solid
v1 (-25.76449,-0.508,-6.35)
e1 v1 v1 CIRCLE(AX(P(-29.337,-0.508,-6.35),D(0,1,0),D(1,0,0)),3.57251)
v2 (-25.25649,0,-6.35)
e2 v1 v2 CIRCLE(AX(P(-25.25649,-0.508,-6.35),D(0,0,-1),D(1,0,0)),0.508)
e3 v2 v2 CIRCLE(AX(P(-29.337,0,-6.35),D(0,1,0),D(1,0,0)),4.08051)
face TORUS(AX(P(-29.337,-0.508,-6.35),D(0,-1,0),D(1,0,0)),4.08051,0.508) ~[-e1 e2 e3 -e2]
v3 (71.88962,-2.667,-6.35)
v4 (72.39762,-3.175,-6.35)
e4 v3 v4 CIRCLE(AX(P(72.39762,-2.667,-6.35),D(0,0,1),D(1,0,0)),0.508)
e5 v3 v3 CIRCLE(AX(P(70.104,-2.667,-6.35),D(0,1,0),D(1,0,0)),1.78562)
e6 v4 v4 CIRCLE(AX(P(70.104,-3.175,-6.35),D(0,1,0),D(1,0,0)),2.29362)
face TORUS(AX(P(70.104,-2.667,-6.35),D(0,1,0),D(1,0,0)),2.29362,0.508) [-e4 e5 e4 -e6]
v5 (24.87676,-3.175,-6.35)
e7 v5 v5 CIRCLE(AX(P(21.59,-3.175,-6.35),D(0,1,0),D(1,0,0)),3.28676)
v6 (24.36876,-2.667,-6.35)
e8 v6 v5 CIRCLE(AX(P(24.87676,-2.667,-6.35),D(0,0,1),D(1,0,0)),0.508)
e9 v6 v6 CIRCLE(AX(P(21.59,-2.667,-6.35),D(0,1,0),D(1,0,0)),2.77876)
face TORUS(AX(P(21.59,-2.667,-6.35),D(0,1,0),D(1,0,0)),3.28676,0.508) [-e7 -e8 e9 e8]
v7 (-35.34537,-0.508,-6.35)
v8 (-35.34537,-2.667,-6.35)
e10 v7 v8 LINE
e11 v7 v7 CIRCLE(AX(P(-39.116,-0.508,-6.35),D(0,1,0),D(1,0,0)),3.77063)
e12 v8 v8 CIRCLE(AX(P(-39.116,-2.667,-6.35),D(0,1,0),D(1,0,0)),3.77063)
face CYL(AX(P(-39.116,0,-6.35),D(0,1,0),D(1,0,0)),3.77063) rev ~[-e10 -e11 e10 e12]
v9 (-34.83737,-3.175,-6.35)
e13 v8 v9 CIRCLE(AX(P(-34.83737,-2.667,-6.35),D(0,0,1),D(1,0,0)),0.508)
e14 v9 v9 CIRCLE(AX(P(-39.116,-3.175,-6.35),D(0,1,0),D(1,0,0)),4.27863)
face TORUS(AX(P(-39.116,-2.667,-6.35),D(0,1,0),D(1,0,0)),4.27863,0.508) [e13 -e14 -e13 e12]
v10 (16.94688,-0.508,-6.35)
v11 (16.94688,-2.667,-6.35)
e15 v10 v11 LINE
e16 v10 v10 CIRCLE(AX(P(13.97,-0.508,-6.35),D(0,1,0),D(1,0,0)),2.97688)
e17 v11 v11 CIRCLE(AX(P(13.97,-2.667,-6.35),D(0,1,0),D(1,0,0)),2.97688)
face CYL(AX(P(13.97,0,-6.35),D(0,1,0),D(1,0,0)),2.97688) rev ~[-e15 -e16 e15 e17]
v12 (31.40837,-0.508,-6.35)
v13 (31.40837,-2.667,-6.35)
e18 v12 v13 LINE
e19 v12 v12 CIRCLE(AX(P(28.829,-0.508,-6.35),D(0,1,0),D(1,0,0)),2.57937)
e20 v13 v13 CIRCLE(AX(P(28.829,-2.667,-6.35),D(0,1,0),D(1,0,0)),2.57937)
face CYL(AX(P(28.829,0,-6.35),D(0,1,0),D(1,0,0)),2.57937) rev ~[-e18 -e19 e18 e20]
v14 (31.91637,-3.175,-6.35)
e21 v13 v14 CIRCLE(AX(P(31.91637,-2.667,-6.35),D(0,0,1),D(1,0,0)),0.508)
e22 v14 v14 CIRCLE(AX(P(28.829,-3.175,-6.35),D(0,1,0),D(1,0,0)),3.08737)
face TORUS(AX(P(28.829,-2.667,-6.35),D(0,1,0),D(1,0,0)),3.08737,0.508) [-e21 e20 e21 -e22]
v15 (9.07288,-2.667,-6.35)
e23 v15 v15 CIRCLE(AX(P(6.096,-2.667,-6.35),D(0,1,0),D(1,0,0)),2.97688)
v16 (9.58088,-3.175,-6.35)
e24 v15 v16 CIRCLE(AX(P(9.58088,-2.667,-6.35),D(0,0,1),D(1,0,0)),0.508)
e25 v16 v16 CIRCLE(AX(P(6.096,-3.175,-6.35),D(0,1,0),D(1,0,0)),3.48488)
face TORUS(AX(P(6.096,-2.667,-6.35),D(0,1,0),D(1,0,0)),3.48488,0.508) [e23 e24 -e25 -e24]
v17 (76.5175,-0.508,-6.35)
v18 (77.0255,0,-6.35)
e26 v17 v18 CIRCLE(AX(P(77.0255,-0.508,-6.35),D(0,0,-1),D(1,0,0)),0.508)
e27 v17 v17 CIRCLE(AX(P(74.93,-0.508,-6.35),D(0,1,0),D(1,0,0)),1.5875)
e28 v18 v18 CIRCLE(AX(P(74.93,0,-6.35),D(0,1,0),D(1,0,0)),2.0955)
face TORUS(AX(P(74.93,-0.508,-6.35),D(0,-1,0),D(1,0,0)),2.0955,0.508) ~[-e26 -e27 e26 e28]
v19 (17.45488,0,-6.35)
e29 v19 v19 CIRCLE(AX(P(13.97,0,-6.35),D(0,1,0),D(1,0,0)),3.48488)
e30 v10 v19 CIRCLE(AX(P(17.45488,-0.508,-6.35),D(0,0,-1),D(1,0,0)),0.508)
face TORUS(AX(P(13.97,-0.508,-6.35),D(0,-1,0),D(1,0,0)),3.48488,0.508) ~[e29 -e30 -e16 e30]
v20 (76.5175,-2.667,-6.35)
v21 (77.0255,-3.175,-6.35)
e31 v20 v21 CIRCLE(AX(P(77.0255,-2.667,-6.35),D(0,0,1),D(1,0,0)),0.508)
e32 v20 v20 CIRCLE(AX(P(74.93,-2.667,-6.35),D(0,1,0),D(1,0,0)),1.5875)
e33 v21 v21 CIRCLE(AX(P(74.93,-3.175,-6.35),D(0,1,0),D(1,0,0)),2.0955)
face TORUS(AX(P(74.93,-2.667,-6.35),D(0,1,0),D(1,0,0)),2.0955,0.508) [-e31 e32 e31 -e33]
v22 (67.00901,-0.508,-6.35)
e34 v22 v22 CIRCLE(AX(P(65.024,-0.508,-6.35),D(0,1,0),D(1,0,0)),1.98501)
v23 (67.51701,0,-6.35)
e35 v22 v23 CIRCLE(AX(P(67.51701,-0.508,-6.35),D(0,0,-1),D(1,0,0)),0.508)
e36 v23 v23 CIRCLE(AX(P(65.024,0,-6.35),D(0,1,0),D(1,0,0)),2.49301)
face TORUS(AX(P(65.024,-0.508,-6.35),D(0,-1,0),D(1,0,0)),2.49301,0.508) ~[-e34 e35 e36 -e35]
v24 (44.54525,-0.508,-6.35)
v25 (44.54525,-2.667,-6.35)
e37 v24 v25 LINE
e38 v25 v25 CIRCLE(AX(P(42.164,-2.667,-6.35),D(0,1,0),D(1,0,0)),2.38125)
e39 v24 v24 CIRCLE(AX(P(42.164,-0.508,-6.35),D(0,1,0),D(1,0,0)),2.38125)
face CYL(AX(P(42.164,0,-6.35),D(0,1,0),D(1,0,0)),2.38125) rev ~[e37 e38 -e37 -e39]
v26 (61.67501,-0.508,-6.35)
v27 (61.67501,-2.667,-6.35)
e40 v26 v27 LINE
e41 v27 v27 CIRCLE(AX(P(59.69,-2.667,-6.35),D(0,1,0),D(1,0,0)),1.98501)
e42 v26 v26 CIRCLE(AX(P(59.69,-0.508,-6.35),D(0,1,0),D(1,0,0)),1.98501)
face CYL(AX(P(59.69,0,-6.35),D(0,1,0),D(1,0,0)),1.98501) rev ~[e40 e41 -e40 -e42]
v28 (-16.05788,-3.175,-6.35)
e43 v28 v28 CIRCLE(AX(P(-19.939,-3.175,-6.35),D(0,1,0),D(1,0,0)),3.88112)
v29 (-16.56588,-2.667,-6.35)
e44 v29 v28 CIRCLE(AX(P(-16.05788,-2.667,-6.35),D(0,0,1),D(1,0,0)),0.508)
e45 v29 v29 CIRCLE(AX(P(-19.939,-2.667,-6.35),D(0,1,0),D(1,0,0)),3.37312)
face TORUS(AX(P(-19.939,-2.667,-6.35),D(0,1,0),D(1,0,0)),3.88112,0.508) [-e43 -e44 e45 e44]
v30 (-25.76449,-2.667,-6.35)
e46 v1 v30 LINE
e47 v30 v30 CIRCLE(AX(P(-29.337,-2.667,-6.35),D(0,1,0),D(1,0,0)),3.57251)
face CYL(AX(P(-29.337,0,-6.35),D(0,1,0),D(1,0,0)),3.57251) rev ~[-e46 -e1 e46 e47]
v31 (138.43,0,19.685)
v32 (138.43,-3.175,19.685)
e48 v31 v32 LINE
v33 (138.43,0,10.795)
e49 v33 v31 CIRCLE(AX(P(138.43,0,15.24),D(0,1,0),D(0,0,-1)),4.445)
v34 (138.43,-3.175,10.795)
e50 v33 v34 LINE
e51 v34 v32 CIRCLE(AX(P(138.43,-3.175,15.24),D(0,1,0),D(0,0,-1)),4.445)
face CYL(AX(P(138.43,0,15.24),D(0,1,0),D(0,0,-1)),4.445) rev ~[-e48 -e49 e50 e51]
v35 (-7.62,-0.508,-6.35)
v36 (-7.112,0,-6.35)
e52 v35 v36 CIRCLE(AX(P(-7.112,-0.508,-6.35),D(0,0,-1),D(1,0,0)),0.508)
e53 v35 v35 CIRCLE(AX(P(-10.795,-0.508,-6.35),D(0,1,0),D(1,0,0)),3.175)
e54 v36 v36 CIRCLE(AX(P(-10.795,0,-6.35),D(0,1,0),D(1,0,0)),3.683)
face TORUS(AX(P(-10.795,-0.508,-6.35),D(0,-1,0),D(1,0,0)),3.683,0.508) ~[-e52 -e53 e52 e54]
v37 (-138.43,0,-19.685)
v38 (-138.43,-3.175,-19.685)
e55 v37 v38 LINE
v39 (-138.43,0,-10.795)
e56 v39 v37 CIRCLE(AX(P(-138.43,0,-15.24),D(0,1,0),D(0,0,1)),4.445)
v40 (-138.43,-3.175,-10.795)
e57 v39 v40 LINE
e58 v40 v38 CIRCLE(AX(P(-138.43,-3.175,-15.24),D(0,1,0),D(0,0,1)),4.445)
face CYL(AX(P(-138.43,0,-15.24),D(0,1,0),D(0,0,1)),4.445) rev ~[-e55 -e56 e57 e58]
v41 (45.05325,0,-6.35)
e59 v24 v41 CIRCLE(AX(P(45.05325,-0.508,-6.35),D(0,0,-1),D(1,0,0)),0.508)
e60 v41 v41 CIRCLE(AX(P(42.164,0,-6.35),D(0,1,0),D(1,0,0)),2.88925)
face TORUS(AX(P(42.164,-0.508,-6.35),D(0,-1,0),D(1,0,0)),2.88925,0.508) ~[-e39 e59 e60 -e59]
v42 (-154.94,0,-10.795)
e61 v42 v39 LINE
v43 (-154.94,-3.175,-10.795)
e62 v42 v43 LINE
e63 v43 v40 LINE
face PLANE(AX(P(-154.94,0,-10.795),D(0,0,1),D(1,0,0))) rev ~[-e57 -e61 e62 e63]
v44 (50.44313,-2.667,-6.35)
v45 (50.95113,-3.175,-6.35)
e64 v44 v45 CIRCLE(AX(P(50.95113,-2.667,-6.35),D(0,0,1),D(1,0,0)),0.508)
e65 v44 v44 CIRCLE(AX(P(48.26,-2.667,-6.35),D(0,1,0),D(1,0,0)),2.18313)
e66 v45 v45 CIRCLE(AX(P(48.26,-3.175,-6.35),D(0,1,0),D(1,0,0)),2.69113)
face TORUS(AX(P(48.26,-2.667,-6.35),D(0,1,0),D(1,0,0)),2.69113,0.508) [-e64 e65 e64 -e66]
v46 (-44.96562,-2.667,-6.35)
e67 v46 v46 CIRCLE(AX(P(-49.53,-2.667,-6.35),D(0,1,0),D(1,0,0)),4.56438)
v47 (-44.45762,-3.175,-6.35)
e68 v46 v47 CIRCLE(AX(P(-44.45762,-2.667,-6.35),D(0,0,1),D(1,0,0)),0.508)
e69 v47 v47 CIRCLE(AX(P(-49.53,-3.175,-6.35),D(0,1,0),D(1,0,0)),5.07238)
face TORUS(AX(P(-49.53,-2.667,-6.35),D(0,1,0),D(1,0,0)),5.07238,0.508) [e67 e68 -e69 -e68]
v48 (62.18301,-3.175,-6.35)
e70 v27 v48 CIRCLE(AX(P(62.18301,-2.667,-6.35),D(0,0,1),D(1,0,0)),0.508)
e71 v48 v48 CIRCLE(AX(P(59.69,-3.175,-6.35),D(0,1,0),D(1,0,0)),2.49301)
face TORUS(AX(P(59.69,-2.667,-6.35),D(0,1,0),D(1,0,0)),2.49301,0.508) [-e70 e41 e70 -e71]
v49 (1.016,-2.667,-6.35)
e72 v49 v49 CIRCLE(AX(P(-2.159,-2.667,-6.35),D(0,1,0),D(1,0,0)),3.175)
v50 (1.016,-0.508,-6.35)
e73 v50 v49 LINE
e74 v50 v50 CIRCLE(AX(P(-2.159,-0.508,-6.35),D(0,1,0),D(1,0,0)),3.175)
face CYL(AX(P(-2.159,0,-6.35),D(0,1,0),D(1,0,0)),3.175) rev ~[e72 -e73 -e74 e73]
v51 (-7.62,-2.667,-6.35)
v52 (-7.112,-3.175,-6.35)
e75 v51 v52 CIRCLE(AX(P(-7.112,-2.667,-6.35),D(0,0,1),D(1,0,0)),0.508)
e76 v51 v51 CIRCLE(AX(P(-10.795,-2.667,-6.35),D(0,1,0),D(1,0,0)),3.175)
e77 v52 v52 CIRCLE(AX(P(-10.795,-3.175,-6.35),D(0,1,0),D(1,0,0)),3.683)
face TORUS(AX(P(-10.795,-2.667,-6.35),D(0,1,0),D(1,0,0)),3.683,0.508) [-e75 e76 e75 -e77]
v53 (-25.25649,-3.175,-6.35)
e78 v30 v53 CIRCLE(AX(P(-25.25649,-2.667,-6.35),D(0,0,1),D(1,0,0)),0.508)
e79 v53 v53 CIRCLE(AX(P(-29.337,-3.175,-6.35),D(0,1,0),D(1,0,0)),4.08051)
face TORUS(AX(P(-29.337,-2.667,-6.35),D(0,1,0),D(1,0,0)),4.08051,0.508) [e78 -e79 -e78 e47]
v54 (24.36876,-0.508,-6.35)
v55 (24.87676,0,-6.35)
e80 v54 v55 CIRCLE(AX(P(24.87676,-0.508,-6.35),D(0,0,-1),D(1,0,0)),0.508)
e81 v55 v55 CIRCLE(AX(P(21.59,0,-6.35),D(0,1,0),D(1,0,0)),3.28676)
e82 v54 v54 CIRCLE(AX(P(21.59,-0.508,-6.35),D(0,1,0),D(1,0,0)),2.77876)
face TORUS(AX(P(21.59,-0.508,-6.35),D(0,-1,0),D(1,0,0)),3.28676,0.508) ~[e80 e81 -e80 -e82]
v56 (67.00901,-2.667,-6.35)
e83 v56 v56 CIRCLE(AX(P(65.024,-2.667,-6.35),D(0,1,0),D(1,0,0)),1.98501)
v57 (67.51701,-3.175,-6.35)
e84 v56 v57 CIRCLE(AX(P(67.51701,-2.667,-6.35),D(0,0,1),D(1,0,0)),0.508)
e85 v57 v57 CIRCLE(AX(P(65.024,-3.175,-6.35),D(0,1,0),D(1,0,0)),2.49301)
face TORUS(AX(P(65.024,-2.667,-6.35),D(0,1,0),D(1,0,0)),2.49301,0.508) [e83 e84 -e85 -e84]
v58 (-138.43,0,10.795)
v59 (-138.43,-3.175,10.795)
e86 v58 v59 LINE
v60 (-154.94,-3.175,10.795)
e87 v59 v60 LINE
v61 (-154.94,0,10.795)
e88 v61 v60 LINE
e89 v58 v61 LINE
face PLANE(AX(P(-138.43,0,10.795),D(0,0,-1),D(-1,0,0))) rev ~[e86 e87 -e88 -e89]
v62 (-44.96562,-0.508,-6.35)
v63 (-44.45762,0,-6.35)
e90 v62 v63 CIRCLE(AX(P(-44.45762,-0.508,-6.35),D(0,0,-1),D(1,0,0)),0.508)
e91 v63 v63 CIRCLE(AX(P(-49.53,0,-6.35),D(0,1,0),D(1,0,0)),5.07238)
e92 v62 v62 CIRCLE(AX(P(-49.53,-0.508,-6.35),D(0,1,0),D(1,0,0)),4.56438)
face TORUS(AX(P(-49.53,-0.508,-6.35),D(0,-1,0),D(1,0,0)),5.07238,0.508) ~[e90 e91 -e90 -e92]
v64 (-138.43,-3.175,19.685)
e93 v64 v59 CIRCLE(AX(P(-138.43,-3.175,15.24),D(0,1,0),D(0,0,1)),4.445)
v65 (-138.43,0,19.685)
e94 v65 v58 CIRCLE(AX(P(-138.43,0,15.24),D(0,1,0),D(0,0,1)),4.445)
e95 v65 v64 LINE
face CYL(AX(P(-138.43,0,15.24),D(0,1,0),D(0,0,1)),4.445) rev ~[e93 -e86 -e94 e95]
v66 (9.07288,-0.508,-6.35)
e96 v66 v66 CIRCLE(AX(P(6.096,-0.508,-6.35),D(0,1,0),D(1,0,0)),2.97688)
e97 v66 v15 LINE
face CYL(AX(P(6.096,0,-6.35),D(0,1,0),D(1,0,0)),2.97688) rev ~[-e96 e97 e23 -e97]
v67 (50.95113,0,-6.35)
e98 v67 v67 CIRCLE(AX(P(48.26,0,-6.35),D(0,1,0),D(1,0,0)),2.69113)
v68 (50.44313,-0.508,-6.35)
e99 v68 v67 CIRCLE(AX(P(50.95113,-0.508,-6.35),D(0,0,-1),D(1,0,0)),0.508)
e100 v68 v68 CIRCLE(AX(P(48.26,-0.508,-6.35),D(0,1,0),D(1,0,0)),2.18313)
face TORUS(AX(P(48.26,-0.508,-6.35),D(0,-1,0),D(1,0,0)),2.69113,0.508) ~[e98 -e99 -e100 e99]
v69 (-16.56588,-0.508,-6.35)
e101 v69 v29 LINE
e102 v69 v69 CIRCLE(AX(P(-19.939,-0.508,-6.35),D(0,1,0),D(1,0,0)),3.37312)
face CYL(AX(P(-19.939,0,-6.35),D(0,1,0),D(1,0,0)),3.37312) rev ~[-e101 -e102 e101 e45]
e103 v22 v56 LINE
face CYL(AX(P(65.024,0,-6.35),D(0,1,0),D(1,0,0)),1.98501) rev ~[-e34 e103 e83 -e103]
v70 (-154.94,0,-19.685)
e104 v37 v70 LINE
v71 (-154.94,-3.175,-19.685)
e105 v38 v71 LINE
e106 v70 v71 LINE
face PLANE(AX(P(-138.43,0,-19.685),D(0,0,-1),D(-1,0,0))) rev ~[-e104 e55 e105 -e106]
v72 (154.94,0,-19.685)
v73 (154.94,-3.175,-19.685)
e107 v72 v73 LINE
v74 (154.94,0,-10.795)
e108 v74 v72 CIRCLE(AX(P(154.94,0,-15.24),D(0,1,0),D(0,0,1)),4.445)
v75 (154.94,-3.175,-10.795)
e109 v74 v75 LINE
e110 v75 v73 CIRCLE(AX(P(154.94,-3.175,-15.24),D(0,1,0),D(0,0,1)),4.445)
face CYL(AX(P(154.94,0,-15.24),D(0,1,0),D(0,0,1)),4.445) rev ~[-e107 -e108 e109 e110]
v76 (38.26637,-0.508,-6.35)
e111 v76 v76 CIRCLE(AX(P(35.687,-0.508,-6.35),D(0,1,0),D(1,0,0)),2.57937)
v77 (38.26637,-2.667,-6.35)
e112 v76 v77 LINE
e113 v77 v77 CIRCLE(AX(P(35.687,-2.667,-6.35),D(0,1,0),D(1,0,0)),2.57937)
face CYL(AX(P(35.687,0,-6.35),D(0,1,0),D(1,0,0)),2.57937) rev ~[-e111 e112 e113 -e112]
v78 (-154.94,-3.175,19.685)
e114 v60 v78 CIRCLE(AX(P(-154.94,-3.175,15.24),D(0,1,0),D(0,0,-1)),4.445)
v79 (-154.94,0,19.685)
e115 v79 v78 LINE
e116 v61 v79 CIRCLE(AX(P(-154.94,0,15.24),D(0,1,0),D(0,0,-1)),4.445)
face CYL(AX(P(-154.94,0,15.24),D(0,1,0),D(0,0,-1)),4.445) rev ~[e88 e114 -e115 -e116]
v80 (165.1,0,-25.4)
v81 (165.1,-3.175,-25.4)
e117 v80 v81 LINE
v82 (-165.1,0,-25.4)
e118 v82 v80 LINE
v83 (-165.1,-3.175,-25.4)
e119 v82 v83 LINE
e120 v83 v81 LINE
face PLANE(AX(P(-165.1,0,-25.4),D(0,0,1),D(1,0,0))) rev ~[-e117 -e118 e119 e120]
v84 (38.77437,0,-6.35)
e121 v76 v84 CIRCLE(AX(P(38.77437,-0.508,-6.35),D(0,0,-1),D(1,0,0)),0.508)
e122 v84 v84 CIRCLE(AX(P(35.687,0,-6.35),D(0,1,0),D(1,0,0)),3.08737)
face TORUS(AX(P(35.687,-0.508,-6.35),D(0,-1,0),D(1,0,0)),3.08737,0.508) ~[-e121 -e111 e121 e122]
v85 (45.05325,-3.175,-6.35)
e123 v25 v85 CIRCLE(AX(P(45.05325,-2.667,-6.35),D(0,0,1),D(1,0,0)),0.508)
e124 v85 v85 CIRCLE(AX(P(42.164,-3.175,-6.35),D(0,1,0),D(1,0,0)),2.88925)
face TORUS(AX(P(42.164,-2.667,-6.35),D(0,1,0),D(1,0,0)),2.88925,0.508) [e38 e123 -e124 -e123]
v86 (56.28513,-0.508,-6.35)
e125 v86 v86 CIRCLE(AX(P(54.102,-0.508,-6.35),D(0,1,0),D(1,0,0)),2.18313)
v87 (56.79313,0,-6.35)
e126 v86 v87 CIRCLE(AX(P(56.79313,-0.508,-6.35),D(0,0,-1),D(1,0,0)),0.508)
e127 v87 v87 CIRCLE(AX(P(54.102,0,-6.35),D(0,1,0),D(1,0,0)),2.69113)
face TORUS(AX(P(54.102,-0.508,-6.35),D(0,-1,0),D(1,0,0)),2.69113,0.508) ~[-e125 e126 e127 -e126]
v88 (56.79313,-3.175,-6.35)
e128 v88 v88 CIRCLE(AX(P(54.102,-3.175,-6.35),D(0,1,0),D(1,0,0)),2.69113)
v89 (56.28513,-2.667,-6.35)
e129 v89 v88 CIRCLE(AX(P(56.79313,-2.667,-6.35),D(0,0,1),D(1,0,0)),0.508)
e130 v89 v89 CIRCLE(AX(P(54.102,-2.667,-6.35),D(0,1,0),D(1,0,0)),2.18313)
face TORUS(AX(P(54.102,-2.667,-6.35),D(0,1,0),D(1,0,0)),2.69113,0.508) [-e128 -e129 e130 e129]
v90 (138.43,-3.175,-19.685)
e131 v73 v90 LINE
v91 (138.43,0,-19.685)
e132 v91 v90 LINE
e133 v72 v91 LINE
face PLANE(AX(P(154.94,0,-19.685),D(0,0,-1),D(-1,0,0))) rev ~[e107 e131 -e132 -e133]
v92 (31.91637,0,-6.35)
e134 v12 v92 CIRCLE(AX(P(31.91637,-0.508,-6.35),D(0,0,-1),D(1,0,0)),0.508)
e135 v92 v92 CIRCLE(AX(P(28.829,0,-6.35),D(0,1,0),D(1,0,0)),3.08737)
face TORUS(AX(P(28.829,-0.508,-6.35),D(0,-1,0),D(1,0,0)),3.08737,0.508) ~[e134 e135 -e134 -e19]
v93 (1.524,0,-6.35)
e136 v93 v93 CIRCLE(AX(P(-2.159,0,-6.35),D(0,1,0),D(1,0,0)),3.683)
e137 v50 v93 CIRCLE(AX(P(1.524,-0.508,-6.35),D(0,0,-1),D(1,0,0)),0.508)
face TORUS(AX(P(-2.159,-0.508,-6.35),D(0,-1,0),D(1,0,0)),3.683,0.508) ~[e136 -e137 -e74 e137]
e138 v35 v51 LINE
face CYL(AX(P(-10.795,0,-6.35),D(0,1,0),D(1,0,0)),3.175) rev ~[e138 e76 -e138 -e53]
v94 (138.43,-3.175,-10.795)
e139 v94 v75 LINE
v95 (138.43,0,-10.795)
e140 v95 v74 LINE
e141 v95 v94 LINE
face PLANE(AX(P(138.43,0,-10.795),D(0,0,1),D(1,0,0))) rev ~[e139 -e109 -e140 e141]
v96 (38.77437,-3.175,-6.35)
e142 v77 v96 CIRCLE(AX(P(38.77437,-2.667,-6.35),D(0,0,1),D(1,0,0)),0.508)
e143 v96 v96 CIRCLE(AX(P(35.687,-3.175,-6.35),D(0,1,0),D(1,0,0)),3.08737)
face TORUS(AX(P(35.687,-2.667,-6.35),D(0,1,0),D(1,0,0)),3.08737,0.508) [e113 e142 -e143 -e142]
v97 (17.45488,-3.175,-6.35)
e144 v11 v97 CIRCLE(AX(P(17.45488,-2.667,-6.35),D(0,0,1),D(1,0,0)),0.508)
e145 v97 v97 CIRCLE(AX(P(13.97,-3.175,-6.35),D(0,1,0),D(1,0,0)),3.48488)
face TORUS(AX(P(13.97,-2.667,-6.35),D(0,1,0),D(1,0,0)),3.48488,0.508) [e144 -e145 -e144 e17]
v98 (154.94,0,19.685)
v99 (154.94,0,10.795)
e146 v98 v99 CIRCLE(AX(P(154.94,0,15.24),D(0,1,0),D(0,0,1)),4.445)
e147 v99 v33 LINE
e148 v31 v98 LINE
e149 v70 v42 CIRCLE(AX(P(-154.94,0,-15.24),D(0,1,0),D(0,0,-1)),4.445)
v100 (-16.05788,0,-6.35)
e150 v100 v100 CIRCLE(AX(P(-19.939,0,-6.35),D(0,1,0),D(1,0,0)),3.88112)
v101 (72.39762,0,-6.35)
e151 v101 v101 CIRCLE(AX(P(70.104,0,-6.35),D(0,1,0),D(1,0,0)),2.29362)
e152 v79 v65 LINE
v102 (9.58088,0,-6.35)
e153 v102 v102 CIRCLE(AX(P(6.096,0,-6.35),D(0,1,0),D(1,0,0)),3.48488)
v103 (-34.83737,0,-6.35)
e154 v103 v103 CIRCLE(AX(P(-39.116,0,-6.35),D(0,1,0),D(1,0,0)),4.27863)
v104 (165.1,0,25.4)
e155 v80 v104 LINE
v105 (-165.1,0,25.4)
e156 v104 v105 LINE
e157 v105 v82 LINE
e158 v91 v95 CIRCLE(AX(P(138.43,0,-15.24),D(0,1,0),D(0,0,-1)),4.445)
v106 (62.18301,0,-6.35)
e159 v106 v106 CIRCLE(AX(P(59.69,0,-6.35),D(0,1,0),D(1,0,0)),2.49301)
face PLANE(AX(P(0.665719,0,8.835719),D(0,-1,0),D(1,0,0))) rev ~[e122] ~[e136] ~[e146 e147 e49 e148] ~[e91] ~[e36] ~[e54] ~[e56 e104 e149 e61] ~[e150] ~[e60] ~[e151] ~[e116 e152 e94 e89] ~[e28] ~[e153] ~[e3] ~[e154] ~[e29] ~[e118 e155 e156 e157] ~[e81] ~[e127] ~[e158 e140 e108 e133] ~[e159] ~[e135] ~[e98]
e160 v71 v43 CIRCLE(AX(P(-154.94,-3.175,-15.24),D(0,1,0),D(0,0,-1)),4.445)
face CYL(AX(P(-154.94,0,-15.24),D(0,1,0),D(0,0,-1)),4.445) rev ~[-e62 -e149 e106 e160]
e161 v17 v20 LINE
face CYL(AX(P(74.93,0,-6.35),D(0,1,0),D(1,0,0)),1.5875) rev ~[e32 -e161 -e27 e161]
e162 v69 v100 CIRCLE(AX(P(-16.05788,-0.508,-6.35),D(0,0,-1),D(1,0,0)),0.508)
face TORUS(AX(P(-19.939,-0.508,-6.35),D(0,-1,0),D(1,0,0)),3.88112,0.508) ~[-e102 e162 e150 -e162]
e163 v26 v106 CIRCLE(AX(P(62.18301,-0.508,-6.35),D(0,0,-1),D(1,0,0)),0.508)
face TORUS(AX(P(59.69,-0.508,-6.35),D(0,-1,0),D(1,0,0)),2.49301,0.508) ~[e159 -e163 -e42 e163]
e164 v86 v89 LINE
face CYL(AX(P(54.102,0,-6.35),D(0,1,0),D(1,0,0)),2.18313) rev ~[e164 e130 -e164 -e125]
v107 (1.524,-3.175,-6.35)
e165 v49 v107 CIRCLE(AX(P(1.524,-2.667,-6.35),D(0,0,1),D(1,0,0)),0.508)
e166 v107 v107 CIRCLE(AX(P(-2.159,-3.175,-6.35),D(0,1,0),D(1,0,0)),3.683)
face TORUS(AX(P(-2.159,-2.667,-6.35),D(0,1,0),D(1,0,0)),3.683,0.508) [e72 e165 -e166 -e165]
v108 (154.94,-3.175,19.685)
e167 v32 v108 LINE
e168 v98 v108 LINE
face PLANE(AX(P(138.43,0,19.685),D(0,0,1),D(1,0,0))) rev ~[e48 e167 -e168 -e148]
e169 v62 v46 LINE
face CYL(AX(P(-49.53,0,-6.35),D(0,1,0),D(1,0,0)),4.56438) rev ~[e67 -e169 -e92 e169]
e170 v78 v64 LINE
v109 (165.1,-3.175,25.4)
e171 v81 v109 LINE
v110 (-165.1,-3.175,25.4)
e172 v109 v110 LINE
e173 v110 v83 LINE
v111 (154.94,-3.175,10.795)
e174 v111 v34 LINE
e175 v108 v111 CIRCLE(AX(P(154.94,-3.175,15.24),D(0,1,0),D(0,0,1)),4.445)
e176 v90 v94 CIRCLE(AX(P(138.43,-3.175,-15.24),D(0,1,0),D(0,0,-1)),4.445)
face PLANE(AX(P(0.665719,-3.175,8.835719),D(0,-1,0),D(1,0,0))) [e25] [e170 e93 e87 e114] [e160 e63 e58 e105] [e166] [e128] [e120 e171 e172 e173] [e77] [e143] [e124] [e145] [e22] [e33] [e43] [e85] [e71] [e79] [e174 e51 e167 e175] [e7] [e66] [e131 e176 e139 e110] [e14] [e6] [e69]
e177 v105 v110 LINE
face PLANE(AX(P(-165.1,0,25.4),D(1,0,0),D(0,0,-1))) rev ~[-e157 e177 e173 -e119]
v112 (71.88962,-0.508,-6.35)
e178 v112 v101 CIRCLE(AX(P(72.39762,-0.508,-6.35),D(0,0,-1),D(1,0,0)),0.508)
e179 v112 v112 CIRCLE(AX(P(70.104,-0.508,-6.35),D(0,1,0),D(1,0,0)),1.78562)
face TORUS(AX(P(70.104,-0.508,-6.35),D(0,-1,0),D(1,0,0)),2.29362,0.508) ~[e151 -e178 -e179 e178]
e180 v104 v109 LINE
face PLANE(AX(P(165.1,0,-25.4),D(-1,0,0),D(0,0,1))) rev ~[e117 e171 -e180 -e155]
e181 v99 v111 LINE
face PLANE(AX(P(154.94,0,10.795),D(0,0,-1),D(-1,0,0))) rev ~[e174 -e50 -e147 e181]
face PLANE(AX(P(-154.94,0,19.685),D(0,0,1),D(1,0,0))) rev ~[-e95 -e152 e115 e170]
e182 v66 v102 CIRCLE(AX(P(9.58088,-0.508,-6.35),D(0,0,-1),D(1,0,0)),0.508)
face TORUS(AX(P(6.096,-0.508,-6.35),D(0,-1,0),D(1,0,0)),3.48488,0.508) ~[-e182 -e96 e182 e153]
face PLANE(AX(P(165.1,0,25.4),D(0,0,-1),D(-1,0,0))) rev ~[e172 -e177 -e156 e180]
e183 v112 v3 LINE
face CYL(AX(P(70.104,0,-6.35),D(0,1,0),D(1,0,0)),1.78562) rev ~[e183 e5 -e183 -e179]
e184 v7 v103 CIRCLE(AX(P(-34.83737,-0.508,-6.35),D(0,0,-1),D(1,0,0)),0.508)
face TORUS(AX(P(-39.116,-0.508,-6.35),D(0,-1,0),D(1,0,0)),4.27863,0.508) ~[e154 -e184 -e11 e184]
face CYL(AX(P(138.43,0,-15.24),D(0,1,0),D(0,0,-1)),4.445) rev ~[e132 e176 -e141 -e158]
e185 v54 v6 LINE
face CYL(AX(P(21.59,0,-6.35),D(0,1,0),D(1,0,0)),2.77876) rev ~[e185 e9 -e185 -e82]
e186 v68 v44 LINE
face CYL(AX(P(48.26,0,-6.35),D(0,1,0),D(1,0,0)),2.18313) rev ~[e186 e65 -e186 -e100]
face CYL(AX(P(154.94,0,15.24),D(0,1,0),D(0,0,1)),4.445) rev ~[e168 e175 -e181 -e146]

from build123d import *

# Parameters (mm, degrees)
F1_DEPTH = 3.175
F2_R     = 0.508


with BuildPart() as f1:
    # F0 (on Front) → F1 (new body)
    with BuildSketch(Plane.XZ):
        with BuildLine():
            Line((165.1, -6.35), (165.1, 25.4))
            Line((165.1, 25.4), (-165.1, 25.4))
            Line((-165.1, 25.4), (-165.1, -6.35))
            Line((-165.1, -6.35), (-54.09438, -6.35))
            ThreePointArc((-54.09438, -6.35), (-49.53, -1.78562), (-44.96562, -6.35))
            Line((-44.96562, -6.35), (-42.88663, -6.35))
            ThreePointArc((-42.88663, -6.35), (-39.116, -2.57937), (-35.34537, -6.35))
            Line((-35.34537, -6.35), (-32.90951, -6.35))
            ThreePointArc((-32.90951, -6.35), (-29.337, -2.77749), (-25.76449, -6.35))
            Line((-25.76449, -6.35), (-23.31212, -6.35))
            ThreePointArc((-23.31212, -6.35), (-19.939, -2.97688), (-16.56588, -6.35))
            Line((-16.56588, -6.35), (-13.97, -6.35))
            ThreePointArc((-13.97, -6.35), (-10.795, -3.175), (-7.62, -6.35))
            Line((-7.62, -6.35), (-5.334, -6.35))
            ThreePointArc((-5.334, -6.35), (-2.159, -3.175), (1.016, -6.35))
            Line((1.016, -6.35), (3.11912, -6.35))
            ThreePointArc((3.11912, -6.35), (6.096, -3.37312), (9.07288, -6.35))
            Line((9.07288, -6.35), (10.99312, -6.35))
            ThreePointArc((10.99312, -6.35), (13.97, -3.37312), (16.94688, -6.35))
            Line((16.94688, -6.35), (18.81124, -6.35))
            ThreePointArc((18.81124, -6.35), (21.59, -3.57124), (24.36876, -6.35))
            Line((24.36876, -6.35), (26.24963, -6.35))
            ThreePointArc((26.24963, -6.35), (28.829, -3.77063), (31.40837, -6.35))
            Line((31.40837, -6.35), (33.10763, -6.35))
            ThreePointArc((33.10763, -6.35), (35.687, -3.77063), (38.26637, -6.35))
            Line((38.26637, -6.35), (39.78275, -6.35))
            ThreePointArc((39.78275, -6.35), (42.164, -3.96875), (44.54525, -6.35))
            Line((44.54525, -6.35), (46.07687, -6.35))
            ThreePointArc((46.07687, -6.35), (48.26, -4.16687), (50.44313, -6.35))
            Line((50.44313, -6.35), (51.91887, -6.35))
            ThreePointArc((51.91887, -6.35), (54.102, -4.16687), (56.28513, -6.35))
            Line((56.28513, -6.35), (57.70499, -6.35))
            ThreePointArc((57.70499, -6.35), (59.69, -4.36499), (61.67501, -6.35))
            Line((61.67501, -6.35), (63.03899, -6.35))
            ThreePointArc((63.03899, -6.35), (65.024, -4.36499), (67.00901, -6.35))
            Line((67.00901, -6.35), (68.31838, -6.35))
            ThreePointArc((68.31838, -6.35), (70.104, -4.56438), (71.88962, -6.35))
            Line((71.88962, -6.35), (73.3425, -6.35))
            ThreePointArc((73.3425, -6.35), (74.93, -4.7625), (76.5175, -6.35))
            Line((76.5175, -6.35), (165.1, -6.35))
        make_face()
        with BuildLine():
            Line((-154.94, 19.685), (-138.43, 19.685))
            ThreePointArc((-138.43, 19.685), (-133.985, 15.24), (-138.43, 10.795))
            Line((-138.43, 10.795), (-154.94, 10.795))
            ThreePointArc((-154.94, 10.795), (-159.385, 15.24), (-154.94, 19.685))
        make_face(mode=Mode.SUBTRACT)
        with BuildLine():
            Line((138.43, 19.685), (154.94, 19.685))
            ThreePointArc((154.94, 19.685), (159.385, 15.24), (154.94, 10.795))
            Line((154.94, 10.795), (138.43, 10.795))
            ThreePointArc((138.43, 10.795), (133.985, 15.24), (138.43, 19.685))
        make_face(mode=Mode.SUBTRACT)
        with BuildLine():
            Line((165.1, -25.4), (165.1, -6.35))
            Line((165.1, -6.35), (76.5175, -6.35))
            ThreePointArc((76.5175, -6.35), (74.93, -7.9375), (73.3425, -6.35))
            Line((73.3425, -6.35), (71.88962, -6.35))
            ThreePointArc((71.88962, -6.35), (70.104, -8.13562), (68.31838, -6.35))
            Line((68.31838, -6.35), (67.00901, -6.35))
            ThreePointArc((67.00901, -6.35), (65.024, -8.33501), (63.03899, -6.35))
            Line((63.03899, -6.35), (61.67501, -6.35))
            ThreePointArc((61.67501, -6.35), (59.69, -8.33501), (57.70499, -6.35))
            Line((57.70499, -6.35), (56.28513, -6.35))
            ThreePointArc((56.28513, -6.35), (54.102, -8.53313), (51.91887, -6.35))
            Line((51.91887, -6.35), (50.44313, -6.35))
            ThreePointArc((50.44313, -6.35), (48.26, -8.53313), (46.07687, -6.35))
            Line((46.07687, -6.35), (44.54525, -6.35))
            ThreePointArc((44.54525, -6.35), (42.164, -8.73125), (39.78275, -6.35))
            Line((39.78275, -6.35), (38.26637, -6.35))
            ThreePointArc((38.26637, -6.35), (35.687, -8.92937), (33.10763, -6.35))
            Line((33.10763, -6.35), (31.40837, -6.35))
            ThreePointArc((31.40837, -6.35), (28.829, -8.92937), (26.24963, -6.35))
            Line((26.24963, -6.35), (24.36876, -6.35))
            ThreePointArc((24.36876, -6.35), (21.59, -9.12876), (18.81124, -6.35))
            Line((18.81124, -6.35), (16.94688, -6.35))
            ThreePointArc((16.94688, -6.35), (13.97, -9.32688), (10.99312, -6.35))
            Line((10.99312, -6.35), (9.07288, -6.35))
            ThreePointArc((9.07288, -6.35), (6.096, -9.32688), (3.11912, -6.35))
            Line((3.11912, -6.35), (1.016, -6.35))
            ThreePointArc((1.016, -6.35), (-2.159, -9.525), (-5.334, -6.35))
            Line((-5.334, -6.35), (-7.62, -6.35))
            ThreePointArc((-7.62, -6.35), (-10.795, -9.525), (-13.97, -6.35))
            Line((-13.97, -6.35), (-16.56588, -6.35))
            ThreePointArc((-16.56588, -6.35), (-19.939, -9.72312), (-23.31212, -6.35))
            Line((-23.31212, -6.35), (-25.76449, -6.35))
            ThreePointArc((-25.76449, -6.35), (-29.337, -9.92251), (-32.90951, -6.35))
            Line((-32.90951, -6.35), (-35.34537, -6.35))
            ThreePointArc((-35.34537, -6.35), (-39.116, -10.12063), (-42.88663, -6.35))
            Line((-42.88663, -6.35), (-44.96562, -6.35))
            ThreePointArc((-44.96562, -6.35), (-49.53, -10.91438), (-54.09438, -6.35))
            Line((-54.09438, -6.35), (-165.1, -6.35))
            Line((-165.1, -6.35), (-165.1, -25.4))
            Line((-165.1, -25.4), (165.1, -25.4))
        make_face()
        with BuildLine():
            Line((-154.94, -10.795), (-138.43, -10.795))
            ThreePointArc((-138.43, -10.795), (-133.985, -15.24), (-138.43, -19.685))
            Line((-138.43, -19.685), (-154.94, -19.685))
            ThreePointArc((-154.94, -19.685), (-159.385, -15.24), (-154.94, -10.795))
        make_face(mode=Mode.SUBTRACT)
        with BuildLine():
            Line((138.43, -10.795), (154.94, -10.795))
            ThreePointArc((154.94, -10.795), (159.385, -15.24), (154.94, -19.685))
            Line((154.94, -19.685), (138.43, -19.685))
            ThreePointArc((138.43, -19.685), (133.985, -15.24), (138.43, -10.795))
        make_face(mode=Mode.SUBTRACT)
    extrude(amount=F1_DEPTH)

    # F2
    f2_edges = [f1.edges().sort_by_distance(p)[0] for p in [
        (-54.09438, -3.175, -6.35),
        (-42.88663, -3.175, -6.35),
        (-32.90951, -3.175, -6.35),
        (-23.31212, -3.175, -6.35),
        (-13.97, -3.175, -6.35),
        (-5.334, -3.175, -6.35),
        (3.11912, -3.175, -6.35),
        (10.99312, -3.175, -6.35),
        (18.81124, -3.175, -6.35),
        (26.24963, -3.175, -6.35),
        (33.10763, -3.175, -6.35),
        (39.78275, -3.175, -6.35),
        (46.07687, -3.175, -6.35),
        (51.91887, -3.175, -6.35),
        (57.70499, -3.175, -6.35),
        (63.03899, -3.175, -6.35),
        (68.31838, -3.175, -6.35),
        (73.3425, -3.175, -6.35),
        (-54.09438, 0, -6.35),
        (-42.88663, 0, -6.35),
        (-32.90951, 0, -6.35),
        (-23.31212, 0, -6.35),
        (-13.97, 0, -6.35),
        (-5.334, 0, -6.35),
        (3.11912, 0, -6.35),
        (10.99312, 0, -6.35),
        (18.81124, 0, -6.35),
        (26.24963, 0, -6.35),
        (33.10763, 0, -6.35),
        (39.78275, 0, -6.35),
        (46.07687, 0, -6.35),
        (51.91887, 0, -6.35),
        (57.70499, 0, -6.35),
        (63.03899, 0, -6.35),
        (68.31838, 0, -6.35),
        (73.3425, 0, -6.35),
    ]]
    fillet(f2_edges, radius=F2_R)


solid = f1.part
